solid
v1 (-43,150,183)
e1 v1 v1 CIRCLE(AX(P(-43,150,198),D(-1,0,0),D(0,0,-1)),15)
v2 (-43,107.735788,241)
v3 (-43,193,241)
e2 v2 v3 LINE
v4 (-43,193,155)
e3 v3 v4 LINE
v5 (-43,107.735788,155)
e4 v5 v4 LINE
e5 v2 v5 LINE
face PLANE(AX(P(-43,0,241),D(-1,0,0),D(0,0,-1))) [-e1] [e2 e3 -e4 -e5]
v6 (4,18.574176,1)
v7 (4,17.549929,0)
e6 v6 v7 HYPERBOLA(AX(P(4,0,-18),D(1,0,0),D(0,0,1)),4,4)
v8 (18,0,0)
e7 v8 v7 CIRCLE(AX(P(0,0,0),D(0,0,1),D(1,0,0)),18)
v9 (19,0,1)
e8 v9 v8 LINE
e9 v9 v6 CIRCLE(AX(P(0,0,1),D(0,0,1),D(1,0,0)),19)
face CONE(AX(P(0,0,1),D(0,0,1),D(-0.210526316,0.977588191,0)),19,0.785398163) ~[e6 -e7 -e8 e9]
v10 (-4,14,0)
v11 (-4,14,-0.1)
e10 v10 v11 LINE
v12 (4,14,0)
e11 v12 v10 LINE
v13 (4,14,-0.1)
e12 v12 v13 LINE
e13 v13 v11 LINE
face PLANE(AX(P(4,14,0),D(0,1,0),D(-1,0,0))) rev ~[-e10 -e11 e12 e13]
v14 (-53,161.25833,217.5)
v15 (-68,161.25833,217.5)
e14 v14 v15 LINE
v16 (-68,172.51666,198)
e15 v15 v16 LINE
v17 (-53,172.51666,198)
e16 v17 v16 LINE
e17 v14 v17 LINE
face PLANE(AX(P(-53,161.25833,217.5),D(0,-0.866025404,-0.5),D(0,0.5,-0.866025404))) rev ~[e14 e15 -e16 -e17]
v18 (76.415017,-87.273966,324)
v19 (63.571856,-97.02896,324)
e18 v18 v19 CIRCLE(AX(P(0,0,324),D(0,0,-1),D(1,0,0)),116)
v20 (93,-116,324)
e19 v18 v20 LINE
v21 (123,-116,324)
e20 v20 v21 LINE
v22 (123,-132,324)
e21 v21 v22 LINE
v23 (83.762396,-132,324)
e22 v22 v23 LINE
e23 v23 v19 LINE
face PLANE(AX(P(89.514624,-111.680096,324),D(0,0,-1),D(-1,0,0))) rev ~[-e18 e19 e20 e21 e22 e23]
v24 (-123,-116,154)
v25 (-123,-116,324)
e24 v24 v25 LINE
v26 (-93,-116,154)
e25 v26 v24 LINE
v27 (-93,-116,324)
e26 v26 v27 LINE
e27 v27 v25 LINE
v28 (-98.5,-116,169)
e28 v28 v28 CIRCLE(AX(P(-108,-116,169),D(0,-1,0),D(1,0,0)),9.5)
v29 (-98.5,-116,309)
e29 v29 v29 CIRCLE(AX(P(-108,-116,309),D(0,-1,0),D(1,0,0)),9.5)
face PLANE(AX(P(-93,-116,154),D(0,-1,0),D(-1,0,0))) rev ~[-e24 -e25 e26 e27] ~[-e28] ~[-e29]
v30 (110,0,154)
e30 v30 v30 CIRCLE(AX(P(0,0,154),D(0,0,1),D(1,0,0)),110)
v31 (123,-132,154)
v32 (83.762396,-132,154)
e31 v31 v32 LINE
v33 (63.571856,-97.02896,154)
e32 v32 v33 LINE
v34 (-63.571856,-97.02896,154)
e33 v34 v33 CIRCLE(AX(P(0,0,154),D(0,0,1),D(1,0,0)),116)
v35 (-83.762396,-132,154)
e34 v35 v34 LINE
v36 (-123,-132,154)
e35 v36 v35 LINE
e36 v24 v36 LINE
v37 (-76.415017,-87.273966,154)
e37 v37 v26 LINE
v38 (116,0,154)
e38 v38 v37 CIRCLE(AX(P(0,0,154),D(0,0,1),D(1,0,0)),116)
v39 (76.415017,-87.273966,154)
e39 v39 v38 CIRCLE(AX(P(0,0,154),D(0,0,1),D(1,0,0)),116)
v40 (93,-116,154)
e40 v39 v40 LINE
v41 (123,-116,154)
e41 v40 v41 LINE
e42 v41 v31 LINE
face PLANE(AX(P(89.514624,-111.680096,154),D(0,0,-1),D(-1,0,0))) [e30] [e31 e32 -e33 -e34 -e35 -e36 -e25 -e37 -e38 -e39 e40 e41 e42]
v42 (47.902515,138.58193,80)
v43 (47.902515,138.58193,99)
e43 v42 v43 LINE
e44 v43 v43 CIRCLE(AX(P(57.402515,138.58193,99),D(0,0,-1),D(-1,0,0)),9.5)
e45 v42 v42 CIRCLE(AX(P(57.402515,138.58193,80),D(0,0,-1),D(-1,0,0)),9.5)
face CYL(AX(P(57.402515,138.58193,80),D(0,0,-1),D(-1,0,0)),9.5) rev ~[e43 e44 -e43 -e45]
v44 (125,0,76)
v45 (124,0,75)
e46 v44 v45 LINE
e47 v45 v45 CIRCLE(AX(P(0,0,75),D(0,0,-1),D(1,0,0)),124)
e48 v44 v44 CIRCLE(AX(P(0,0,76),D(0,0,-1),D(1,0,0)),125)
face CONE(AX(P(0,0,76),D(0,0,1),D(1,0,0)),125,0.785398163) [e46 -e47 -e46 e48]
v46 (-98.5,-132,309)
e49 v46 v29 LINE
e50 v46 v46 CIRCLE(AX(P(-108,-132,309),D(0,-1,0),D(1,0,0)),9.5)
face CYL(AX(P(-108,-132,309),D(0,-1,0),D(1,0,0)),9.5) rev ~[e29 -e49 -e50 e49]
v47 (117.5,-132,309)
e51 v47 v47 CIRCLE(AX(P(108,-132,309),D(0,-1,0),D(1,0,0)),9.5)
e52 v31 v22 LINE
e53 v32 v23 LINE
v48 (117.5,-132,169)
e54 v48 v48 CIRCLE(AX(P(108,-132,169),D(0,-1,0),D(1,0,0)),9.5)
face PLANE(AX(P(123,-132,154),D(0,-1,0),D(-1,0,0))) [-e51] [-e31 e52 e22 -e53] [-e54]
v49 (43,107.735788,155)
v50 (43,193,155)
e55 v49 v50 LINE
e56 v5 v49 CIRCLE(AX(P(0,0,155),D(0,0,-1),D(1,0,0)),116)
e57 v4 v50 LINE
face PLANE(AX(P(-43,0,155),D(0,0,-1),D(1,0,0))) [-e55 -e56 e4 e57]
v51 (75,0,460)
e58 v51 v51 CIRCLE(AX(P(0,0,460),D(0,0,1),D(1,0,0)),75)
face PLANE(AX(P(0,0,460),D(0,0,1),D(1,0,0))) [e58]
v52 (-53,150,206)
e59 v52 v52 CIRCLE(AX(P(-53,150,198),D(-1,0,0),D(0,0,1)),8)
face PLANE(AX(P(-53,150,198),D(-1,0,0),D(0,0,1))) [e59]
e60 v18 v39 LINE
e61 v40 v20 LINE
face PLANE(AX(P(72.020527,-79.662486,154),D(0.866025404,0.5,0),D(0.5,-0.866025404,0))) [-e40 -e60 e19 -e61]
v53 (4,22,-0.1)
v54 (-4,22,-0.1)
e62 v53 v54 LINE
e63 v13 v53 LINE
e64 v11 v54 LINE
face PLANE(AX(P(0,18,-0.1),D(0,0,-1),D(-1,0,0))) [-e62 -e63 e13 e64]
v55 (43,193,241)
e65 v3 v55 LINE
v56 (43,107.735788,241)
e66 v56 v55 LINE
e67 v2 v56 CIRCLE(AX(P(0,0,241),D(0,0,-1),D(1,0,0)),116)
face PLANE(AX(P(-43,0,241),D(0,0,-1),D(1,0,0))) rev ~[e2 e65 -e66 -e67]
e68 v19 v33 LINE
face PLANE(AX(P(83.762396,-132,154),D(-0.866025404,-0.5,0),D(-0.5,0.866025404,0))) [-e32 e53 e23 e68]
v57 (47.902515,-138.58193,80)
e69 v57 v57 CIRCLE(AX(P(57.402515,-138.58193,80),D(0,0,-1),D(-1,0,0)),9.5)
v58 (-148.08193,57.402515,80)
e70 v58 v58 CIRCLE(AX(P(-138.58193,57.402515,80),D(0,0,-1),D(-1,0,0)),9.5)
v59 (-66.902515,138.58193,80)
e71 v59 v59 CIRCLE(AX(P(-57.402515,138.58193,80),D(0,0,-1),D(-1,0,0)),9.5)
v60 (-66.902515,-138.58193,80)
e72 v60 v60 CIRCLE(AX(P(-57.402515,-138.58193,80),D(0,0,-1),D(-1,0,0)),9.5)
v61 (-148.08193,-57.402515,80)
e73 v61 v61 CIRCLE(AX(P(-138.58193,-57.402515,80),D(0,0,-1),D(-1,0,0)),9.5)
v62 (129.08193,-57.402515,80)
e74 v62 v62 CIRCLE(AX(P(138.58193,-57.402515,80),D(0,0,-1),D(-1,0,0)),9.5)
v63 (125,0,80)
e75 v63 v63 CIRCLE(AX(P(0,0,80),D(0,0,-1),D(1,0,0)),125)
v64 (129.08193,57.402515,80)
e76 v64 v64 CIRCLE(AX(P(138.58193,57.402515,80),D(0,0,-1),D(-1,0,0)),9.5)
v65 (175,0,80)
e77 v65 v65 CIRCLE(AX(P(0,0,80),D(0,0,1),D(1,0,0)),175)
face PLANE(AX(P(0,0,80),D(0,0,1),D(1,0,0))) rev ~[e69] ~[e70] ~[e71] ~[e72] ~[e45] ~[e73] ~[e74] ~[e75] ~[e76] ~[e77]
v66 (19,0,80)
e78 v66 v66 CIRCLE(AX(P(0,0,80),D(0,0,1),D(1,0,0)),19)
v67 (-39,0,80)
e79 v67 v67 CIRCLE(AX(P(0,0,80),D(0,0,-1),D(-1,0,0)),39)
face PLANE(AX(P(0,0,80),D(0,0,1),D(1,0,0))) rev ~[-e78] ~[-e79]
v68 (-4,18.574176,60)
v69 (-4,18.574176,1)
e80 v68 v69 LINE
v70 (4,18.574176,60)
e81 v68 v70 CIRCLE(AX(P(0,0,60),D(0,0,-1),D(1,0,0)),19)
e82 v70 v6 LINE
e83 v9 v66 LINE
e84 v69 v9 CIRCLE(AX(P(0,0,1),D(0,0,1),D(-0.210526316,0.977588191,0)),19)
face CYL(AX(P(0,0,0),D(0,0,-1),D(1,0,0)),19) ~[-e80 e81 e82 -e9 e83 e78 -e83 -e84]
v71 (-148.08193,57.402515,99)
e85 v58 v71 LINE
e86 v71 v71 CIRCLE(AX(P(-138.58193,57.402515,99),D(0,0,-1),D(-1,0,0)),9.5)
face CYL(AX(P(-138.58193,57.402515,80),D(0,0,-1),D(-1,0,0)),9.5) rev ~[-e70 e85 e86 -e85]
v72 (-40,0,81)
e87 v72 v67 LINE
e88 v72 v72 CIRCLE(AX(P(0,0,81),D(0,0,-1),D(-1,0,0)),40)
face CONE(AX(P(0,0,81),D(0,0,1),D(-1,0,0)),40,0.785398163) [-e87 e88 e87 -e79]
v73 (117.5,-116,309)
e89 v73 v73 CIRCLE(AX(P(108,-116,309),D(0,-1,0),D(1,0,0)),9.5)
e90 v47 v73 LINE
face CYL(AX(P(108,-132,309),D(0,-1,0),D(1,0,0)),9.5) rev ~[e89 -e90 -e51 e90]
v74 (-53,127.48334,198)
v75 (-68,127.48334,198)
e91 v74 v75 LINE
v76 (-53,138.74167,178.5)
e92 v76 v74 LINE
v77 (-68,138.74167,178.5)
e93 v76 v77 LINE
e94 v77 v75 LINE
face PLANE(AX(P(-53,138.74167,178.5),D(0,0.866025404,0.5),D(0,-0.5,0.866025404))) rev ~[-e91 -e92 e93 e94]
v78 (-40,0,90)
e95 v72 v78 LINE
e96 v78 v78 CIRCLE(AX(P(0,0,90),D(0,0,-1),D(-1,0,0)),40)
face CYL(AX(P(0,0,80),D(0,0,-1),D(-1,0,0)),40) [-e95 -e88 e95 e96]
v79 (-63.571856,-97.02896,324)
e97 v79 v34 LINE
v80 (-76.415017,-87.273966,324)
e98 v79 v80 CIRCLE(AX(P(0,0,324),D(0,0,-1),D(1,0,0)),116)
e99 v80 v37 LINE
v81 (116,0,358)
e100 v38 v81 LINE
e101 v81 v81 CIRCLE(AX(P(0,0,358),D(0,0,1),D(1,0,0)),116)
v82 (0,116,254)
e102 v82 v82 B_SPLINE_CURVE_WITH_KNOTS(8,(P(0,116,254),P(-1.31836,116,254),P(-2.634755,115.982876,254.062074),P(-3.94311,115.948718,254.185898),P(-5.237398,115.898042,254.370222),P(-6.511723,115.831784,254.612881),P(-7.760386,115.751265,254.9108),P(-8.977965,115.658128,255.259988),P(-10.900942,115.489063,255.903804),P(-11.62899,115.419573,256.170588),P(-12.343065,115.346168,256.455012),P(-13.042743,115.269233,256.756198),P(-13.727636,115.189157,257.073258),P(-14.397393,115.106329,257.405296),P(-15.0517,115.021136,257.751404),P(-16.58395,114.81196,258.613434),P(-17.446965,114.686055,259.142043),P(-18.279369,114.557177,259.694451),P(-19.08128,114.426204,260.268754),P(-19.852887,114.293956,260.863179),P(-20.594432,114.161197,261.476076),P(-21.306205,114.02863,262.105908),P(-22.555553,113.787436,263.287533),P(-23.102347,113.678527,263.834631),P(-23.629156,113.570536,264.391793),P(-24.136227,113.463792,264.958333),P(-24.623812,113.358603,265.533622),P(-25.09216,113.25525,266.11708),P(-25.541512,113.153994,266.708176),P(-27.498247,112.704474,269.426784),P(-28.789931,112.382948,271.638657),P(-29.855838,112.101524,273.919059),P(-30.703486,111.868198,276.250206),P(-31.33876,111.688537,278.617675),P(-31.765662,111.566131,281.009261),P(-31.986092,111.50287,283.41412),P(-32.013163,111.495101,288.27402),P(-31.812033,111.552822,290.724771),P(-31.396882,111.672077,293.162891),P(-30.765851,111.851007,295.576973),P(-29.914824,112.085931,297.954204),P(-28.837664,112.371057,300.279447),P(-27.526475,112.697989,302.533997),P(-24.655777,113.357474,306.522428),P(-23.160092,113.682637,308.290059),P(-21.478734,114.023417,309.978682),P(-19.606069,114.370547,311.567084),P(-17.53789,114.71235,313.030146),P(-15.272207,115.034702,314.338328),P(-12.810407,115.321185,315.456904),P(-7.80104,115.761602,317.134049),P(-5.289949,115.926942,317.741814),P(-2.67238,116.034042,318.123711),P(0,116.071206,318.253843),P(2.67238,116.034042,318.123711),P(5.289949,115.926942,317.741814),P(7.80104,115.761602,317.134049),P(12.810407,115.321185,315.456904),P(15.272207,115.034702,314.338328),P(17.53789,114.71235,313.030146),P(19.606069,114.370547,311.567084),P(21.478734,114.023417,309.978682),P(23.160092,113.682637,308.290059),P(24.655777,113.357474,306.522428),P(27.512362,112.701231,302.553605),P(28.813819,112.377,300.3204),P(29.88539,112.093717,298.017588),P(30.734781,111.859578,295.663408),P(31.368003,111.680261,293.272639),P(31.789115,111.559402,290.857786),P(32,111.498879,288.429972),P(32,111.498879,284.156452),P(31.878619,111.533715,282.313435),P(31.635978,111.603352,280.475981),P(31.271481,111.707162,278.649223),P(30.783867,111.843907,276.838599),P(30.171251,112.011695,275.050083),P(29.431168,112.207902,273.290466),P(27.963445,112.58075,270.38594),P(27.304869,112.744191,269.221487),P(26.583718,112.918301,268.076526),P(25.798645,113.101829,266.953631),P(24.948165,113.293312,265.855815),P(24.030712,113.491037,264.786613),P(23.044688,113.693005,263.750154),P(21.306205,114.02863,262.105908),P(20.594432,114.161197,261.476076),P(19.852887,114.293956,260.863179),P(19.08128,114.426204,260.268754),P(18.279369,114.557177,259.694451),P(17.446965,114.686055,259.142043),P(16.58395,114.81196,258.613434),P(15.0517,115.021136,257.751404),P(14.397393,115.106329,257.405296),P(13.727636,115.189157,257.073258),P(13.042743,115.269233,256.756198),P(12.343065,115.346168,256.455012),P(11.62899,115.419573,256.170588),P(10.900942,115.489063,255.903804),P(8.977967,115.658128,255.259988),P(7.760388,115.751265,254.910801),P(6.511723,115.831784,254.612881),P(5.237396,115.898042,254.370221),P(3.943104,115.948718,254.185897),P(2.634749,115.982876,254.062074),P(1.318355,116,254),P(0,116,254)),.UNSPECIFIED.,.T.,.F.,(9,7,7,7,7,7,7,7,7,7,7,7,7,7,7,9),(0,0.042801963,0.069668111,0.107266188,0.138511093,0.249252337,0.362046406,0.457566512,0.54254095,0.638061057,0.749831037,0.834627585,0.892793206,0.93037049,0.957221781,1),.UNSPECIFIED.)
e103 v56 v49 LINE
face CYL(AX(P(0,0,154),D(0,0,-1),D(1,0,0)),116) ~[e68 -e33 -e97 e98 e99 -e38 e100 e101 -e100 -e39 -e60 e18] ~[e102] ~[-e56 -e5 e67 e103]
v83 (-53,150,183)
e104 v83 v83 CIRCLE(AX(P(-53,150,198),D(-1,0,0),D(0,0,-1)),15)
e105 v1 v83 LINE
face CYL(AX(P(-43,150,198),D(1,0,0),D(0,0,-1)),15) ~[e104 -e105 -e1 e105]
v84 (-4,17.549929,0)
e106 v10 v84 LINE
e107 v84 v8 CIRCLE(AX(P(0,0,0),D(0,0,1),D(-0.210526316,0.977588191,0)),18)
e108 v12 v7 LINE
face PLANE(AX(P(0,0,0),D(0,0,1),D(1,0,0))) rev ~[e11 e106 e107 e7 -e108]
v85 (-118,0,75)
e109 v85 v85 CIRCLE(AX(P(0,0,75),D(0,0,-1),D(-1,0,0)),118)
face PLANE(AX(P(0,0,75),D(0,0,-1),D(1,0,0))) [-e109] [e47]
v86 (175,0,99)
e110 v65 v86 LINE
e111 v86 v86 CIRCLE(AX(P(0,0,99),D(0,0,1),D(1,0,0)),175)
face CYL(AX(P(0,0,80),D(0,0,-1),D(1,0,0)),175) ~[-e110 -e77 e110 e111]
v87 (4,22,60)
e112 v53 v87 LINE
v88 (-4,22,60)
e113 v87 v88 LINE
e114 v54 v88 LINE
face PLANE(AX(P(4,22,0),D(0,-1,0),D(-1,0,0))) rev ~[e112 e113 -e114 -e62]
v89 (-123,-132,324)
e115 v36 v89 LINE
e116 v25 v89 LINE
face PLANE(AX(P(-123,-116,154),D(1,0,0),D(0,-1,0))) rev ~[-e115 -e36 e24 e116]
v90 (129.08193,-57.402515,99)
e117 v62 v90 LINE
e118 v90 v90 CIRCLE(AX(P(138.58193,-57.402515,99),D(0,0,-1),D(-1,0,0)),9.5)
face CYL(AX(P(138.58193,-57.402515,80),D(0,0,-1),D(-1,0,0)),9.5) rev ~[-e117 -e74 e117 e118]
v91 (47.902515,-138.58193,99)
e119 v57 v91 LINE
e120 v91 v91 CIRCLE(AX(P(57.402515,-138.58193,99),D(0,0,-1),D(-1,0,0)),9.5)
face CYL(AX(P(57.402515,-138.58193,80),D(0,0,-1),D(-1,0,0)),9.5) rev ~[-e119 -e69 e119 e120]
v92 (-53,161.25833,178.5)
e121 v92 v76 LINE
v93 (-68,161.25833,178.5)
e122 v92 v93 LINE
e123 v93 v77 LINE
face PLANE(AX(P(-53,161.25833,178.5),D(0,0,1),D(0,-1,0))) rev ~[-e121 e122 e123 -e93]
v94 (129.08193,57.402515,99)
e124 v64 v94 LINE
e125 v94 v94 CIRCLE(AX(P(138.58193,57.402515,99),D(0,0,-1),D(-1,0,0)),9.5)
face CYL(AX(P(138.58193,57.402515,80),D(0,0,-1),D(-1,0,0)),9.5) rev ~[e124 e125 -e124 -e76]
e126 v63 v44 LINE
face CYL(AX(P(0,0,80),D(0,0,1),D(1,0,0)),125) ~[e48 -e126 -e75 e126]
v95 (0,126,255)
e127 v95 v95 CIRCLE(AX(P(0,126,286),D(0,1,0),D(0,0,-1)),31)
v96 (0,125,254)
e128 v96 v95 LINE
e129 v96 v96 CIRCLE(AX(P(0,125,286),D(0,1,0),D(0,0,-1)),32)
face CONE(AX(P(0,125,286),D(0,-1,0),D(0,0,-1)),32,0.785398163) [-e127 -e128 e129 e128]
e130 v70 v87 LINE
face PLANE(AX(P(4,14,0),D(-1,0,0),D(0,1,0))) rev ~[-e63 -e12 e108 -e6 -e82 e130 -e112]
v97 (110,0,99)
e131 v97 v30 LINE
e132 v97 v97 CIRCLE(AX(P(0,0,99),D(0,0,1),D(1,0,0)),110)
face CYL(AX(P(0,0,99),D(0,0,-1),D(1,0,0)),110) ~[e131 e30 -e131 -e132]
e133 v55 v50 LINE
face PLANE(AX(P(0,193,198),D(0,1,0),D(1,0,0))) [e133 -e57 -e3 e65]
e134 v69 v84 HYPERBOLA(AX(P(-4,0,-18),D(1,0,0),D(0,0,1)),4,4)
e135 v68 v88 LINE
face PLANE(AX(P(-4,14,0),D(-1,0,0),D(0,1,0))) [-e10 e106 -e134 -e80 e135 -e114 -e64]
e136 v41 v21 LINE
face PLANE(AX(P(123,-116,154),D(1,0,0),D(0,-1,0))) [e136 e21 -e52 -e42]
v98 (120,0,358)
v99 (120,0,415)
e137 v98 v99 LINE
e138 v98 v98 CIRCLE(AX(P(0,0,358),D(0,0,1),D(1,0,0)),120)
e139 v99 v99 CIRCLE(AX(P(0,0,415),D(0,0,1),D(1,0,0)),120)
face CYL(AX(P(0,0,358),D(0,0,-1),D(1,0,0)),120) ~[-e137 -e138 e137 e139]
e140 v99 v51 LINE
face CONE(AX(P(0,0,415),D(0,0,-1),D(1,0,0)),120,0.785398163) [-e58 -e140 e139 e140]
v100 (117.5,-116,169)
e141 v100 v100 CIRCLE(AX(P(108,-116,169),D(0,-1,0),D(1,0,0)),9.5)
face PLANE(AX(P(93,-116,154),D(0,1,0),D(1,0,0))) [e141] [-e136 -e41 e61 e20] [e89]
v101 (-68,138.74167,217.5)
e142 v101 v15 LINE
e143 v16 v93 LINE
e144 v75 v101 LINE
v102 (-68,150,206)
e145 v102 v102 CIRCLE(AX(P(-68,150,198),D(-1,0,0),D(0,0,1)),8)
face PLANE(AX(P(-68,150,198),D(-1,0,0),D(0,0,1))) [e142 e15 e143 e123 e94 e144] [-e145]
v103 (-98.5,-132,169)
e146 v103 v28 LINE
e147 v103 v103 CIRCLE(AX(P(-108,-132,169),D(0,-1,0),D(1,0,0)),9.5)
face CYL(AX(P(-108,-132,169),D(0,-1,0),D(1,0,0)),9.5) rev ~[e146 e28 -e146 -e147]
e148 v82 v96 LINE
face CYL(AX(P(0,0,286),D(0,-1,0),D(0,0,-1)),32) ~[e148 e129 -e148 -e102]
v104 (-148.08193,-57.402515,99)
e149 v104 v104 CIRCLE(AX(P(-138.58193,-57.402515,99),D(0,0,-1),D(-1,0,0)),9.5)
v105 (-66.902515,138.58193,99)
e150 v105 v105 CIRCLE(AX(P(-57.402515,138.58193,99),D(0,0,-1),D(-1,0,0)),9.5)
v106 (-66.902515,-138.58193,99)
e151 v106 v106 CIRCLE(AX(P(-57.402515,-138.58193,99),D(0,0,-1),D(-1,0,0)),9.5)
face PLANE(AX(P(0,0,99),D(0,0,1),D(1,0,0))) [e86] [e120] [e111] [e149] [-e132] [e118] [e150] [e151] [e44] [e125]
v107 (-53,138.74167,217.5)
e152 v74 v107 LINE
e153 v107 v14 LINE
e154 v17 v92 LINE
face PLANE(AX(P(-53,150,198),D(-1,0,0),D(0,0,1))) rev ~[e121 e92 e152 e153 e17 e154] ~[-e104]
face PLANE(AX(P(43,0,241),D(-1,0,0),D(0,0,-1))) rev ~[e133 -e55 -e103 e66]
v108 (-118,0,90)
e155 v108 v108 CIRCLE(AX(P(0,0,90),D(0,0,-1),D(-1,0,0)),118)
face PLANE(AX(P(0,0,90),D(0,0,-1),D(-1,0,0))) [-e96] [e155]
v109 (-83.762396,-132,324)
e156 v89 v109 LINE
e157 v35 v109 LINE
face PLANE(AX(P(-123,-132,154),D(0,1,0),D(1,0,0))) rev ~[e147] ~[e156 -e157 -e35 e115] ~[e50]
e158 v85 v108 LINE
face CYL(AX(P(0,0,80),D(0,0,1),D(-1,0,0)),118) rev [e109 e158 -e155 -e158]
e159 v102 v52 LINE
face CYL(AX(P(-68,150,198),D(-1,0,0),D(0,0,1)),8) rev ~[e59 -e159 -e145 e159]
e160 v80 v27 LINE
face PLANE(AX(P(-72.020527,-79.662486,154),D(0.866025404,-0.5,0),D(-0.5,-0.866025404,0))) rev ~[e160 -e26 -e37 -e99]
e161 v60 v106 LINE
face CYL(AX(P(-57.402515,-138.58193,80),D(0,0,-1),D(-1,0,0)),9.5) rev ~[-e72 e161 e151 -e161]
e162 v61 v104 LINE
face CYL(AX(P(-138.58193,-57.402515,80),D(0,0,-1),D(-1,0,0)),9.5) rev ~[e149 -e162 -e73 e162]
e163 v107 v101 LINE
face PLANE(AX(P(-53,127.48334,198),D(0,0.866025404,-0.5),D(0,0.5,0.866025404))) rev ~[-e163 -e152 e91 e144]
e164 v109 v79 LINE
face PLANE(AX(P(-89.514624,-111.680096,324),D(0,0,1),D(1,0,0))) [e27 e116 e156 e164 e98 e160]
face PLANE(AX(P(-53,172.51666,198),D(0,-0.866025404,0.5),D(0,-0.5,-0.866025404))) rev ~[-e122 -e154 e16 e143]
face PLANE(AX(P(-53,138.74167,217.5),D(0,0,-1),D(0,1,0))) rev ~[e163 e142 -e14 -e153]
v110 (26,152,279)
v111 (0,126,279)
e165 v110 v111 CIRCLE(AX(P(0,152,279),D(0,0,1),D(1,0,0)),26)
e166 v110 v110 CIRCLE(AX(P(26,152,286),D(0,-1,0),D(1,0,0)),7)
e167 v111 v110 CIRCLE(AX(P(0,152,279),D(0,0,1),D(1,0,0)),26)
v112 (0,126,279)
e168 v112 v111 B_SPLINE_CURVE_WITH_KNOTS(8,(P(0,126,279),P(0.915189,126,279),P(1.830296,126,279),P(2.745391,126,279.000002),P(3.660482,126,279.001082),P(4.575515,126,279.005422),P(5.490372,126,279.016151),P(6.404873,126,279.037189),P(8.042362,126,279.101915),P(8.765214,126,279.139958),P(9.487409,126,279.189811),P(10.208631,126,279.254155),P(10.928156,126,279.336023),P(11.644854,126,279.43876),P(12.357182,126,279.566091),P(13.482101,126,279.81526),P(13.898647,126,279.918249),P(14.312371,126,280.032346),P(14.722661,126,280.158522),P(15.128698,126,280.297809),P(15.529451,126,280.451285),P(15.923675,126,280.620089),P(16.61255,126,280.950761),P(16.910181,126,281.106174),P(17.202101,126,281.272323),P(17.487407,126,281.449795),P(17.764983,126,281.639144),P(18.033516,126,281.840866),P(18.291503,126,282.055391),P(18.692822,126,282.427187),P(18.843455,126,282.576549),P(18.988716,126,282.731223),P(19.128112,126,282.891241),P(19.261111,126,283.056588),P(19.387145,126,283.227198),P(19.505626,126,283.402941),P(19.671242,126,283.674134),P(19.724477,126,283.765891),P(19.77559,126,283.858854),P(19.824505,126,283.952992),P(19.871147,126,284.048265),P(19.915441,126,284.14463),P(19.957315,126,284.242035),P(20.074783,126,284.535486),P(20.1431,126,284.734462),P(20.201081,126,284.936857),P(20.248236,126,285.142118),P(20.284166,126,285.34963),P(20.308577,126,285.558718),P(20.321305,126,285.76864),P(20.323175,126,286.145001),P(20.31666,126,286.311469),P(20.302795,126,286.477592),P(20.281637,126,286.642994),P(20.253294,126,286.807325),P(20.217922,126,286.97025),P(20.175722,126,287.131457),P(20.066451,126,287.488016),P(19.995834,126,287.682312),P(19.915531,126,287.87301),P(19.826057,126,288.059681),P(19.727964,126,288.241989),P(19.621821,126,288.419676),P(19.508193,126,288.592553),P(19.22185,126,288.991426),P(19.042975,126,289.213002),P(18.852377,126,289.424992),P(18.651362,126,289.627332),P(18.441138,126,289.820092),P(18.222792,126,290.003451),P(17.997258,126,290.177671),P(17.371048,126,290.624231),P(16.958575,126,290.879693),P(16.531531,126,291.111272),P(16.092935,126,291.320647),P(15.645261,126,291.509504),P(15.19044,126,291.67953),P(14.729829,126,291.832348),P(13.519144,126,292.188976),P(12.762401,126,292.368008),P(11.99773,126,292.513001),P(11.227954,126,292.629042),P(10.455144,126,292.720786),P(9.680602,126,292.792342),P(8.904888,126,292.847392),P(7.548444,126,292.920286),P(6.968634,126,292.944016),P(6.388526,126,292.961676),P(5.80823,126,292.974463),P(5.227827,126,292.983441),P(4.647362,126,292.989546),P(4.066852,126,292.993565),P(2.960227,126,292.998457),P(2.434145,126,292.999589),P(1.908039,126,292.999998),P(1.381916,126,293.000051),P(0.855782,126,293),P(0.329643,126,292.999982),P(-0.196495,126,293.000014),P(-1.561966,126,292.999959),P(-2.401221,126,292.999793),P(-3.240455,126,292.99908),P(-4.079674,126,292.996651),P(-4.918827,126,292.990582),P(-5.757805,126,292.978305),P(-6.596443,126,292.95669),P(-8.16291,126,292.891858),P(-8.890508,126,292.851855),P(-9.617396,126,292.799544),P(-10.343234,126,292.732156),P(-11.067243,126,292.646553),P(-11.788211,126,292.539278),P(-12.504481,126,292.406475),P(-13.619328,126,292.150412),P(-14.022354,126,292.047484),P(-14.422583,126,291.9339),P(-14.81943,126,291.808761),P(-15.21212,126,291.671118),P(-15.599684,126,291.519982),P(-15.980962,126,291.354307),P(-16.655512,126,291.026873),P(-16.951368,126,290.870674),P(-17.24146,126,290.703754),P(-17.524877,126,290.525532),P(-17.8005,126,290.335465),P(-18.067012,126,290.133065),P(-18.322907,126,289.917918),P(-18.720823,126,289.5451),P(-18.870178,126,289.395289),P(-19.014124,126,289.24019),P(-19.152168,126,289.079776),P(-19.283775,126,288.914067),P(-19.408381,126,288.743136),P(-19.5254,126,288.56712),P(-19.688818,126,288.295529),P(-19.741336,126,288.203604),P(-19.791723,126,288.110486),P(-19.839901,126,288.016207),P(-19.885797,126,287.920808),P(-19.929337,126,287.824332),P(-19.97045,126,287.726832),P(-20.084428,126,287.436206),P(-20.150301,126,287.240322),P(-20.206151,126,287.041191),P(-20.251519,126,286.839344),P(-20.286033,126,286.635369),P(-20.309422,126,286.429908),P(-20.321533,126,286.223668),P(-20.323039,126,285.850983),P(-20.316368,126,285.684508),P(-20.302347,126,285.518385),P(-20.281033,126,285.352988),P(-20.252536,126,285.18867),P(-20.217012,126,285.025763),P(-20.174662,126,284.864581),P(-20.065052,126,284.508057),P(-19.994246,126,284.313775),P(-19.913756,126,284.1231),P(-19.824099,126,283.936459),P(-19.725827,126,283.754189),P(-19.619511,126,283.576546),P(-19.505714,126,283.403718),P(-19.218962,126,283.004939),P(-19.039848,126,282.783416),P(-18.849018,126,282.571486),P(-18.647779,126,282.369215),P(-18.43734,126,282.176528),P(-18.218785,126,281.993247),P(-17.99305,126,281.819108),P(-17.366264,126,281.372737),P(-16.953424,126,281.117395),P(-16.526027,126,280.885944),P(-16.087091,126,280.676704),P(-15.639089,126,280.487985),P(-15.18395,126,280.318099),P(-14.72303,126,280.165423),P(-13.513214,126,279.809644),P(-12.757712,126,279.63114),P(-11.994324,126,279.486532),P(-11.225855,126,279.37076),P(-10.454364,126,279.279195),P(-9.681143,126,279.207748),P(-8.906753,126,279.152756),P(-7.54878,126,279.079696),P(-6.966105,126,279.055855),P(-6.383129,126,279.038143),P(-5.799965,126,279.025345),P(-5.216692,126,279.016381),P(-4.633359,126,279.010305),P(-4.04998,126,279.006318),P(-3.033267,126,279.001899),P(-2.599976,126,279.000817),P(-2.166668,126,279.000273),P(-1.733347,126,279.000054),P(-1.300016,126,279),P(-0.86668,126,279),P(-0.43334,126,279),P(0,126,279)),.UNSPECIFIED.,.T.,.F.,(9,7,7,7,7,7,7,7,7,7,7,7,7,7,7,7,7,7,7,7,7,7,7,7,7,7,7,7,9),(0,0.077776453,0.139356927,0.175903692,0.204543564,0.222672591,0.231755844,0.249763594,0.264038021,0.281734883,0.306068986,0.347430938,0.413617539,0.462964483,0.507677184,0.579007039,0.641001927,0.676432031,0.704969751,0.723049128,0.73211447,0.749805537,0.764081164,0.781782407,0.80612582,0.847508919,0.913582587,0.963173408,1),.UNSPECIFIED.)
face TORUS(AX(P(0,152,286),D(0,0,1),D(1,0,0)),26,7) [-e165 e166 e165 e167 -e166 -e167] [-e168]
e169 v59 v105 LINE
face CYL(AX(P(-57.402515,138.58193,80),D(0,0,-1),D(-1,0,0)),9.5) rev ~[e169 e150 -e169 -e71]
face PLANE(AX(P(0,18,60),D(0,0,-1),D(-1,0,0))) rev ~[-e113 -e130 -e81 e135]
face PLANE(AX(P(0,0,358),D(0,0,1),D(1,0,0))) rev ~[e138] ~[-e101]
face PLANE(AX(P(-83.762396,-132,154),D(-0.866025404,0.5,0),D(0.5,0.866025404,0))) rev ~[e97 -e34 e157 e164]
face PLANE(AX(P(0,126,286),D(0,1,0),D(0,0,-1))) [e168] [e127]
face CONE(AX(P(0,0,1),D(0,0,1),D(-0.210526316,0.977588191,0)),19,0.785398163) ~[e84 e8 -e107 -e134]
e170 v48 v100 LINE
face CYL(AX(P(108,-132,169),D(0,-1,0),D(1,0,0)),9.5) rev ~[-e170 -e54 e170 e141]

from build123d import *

# Parameters (mm, degrees)
SKETCH_1_R           = 19
EXTRUDE_1_DEPTH      = 80
SKETCH_2_W           = 8
SKETCH_2_H           = 8
EXTRUDE_2_DEPTH      = 0.1
EXTRUDE_2_DEPTH_BACK = 60
SKETCH_3_R           = 175
EXTRUDE_3_DEPTH      = 19
SKETCH_4_R           = 125
SKETCH_4_R_2         = 118
EXTRUDE_4_DEPTH      = 5
SKETCH_5_R           = 118
SKETCH_5_R_2         = 40
CUT_EXTRUDE_1_DEPTH  = 10
CHAMFER_1_SIZE       = 1
SKETCH_6_R           = 9.5
CUT_EXTRUDE_2_DEPTH  = 20
SKETCH_7_R           = 110
EXTRUDE_5_DEPTH      = 55
SKETCH_8_R           = 116
EXTRUDE_6_DEPTH      = 204
SKETCH_9_R           = 120
EXTRUDE_7_DEPTH      = 102
CHAMFER_2_SIZE       = 45
EXTRUDE_8_DEPTH      = 170
CUT_EXTRUDE_3_REACH  = 309
SKETCH_11_R          = 9.5
SKETCH_12_W          = 86
SKETCH_12_H          = 86
EXTRUDE_9_DEPTH      = 193
SKETCH_13_R          = 32
EXTRUDE_10_DEPTH     = 126
CHAMFER_3_SIZE       = 1
SKETCH_15_R          = 7
SKETCH_16_R          = 15
EXTRUDE_11_DEPTH     = 10
EXTRUDE_12_DEPTH     = 15
SKETCH_18_R          = 8
CUT_EXTRUDE_4_DEPTH  = 15


with BuildPart() as part:
    # Эскиз1 → Вытянуть1 (new body)
    with BuildSketch(Plane.XY):
        Circle(SKETCH_1_R)
    extrude(amount=EXTRUDE_1_DEPTH)

    # Эскиз2 → Вытянуть2 (add, two sides)
    with BuildSketch(Plane(origin=(0, 0, 0), x_dir=(-1, 0, 0), z_dir=(0, 0, -1))) as extrude_2_sk:
        with Locations((0, 18)):
            Rectangle(SKETCH_2_W, SKETCH_2_H)
    extrude(amount=EXTRUDE_2_DEPTH)
    extrude(extrude_2_sk.sketch, amount=-EXTRUDE_2_DEPTH_BACK)

    # Эскиз3 → Вытянуть3 (add)
    with BuildSketch(Plane.XY.offset(80)):
        Circle(SKETCH_3_R)
    extrude(amount=EXTRUDE_3_DEPTH)

    # Эскиз4 → Вытянуть4 (add)
    with BuildSketch(Plane(origin=(0, 0, 80), x_dir=(-1, 0, 0), z_dir=(0, 0, -1))):
        with Locations(Location((0, 0, 0), (0, 0, 180))):  # turned: the seam where the file's is
            Circle(SKETCH_4_R)
        Circle(SKETCH_4_R_2, mode=Mode.SUBTRACT)
    extrude(amount=EXTRUDE_4_DEPTH)

    # Эскиз5 → Вырез-Вытянуть1 (cut)
    with BuildSketch(Plane(origin=(0, 0, 80), x_dir=(-1, 0, 0), z_dir=(0, 0, -1))):
        Circle(SKETCH_5_R)
        Circle(SKETCH_5_R_2, mode=Mode.SUBTRACT)
    extrude(amount=-CUT_EXTRUDE_1_DEPTH, mode=Mode.SUBTRACT)

    # Фаска1
    chamfer_1_edges = [part.edges().sort_by_distance(p)[0] for p in [
        (-125, 0, 75),
        (40, 0, 80),
        (-11.937336386, -14.781745499, 0),
    ]]
    chamfer(chamfer_1_edges, length=CHAMFER_1_SIZE)

    # Эскиз6 → Вырез-Вытянуть2 (cut, through all)
    with BuildSketch(Plane(origin=(0, 0, 80), x_dir=(-1, 0, 0), z_dir=(0, 0, -1))):
        with Locations((-57.402514855, 138.581929877)):
            Circle(SKETCH_6_R)
        with Locations((57.402514855, 138.581929877)):
            Circle(SKETCH_6_R)
        with Locations((138.581929877, 57.402514855)):
            Circle(SKETCH_6_R)
        with Locations((138.581929877, -57.402514855)):
            Circle(SKETCH_6_R)
        with Locations((57.402514855, -138.581929877)):
            Circle(SKETCH_6_R)
        with Locations((-57.402514855, -138.581929877)):
            Circle(SKETCH_6_R)
        with Locations((-138.581929877, -57.402514855)):
            Circle(SKETCH_6_R)
        with Locations((-138.581929877, 57.402514855)):
            Circle(SKETCH_6_R)
    extrude(amount=-CUT_EXTRUDE_2_DEPTH, mode=Mode.SUBTRACT)

    # Эскиз7 → Вытянуть5 (add)
    with BuildSketch(Plane.XY.offset(99)):
        Circle(SKETCH_7_R)
    extrude(amount=EXTRUDE_5_DEPTH)

    # Эскиз8 → Вытянуть6 (add)
    with BuildSketch(Plane.XY.offset(154)):
        Circle(SKETCH_8_R)
    extrude(amount=EXTRUDE_6_DEPTH)

    # Эскиз9 → Вытянуть7 (add)
    with BuildSketch(Plane.XY.offset(358)):
        Circle(SKETCH_9_R)
    extrude(amount=EXTRUDE_7_DEPTH)

    # Фаска2
    chamfer_2_edges = [part.edges().sort_by_distance(p)[0] for p in [
        (-120, 0, 460),
    ]]
    chamfer(chamfer_2_edges, length=CHAMFER_2_SIZE)

    # Эскиз10 → Вытянуть8 (add)
    with BuildSketch(Plane(origin=(0, 0, 154), x_dir=(-1, 0, 0), z_dir=(0, 0, -1))):
        Polygon((-123, -132), (-83.762395693, -132), (-58.16412012, -87.662486121), (-72.020526581, -79.662486121), (-93, -116), (-123, -116), align=None)
        Polygon((123, -132), (83.762395693, -132), (58.16412012, -87.662486121), (72.020526581, -79.662486121), (93, -116), (123, -116), align=None)
    extrude(amount=-EXTRUDE_8_DEPTH)

    # Эскиз11 → Вырез-Вытянуть3 (cut, up to next)
    with BuildSketch(Plane.XZ.offset(132), mode=Mode.PRIVATE) as cut_extrude_3_sk1:
        with Locations((-108, 169)):
            Circle(SKETCH_11_R)
    cut_extrude_3_tool1 = extrude(cut_extrude_3_sk1.sketch, amount=-CUT_EXTRUDE_3_REACH, mode=Mode.PRIVATE) & part.part
    add(cut_extrude_3_tool1.solids().sort_by_distance((-108, -132, 169))[0], mode=Mode.SUBTRACT)
    # Эскиз11 → Вырез-Вытянуть3 (cut, up to next)
    with BuildSketch(Plane.XZ.offset(132), mode=Mode.PRIVATE) as cut_extrude_3_sk2:
        with Locations((108, 169)):
            Circle(SKETCH_11_R)
    cut_extrude_3_tool2 = extrude(cut_extrude_3_sk2.sketch, amount=-CUT_EXTRUDE_3_REACH, mode=Mode.PRIVATE) & part.part
    add(cut_extrude_3_tool2.solids().sort_by_distance((108, -132, 169))[0], mode=Mode.SUBTRACT)
    # Эскиз11 → Вырез-Вытянуть3 (cut, up to next)
    with BuildSketch(Plane.XZ.offset(132), mode=Mode.PRIVATE) as cut_extrude_3_sk3:
        with Locations((-108, 309)):
            Circle(SKETCH_11_R)
    cut_extrude_3_tool3 = extrude(cut_extrude_3_sk3.sketch, amount=-CUT_EXTRUDE_3_REACH, mode=Mode.PRIVATE) & part.part
    add(cut_extrude_3_tool3.solids().sort_by_distance((-108, -132, 309))[0], mode=Mode.SUBTRACT)
    # Эскиз11 → Вырез-Вытянуть3 (cut, up to next)
    with BuildSketch(Plane.XZ.offset(132), mode=Mode.PRIVATE) as cut_extrude_3_sk4:
        with Locations((108, 309)):
            Circle(SKETCH_11_R)
    cut_extrude_3_tool4 = extrude(cut_extrude_3_sk4.sketch, amount=-CUT_EXTRUDE_3_REACH, mode=Mode.PRIVATE) & part.part
    add(cut_extrude_3_tool4.solids().sort_by_distance((108, -132, 309))[0], mode=Mode.SUBTRACT)

    # Эскиз12 → Вытянуть9 (add)
    with BuildSketch(Plane(origin=(0, 0, 0), x_dir=(1, 0, 0), z_dir=(0, 1, 0))):
        with Locations((0, -198)):
            Rectangle(SKETCH_12_W, SKETCH_12_H)
    extrude(amount=EXTRUDE_9_DEPTH)

    # Эскиз13 → Вытянуть10 (add)
    with BuildSketch(Plane(origin=(0, 0, 0), x_dir=(1, 0, 0), z_dir=(0, 1, 0))):
        with Locations(Location((0, -286, 0), (0, 0, 90))):  # turned: the seam where the file's is
            Circle(SKETCH_13_R)
    extrude(amount=EXTRUDE_10_DEPTH)

    # Фаска3
    chamfer_3_edges = [part.edges().sort_by_distance(p)[0] for p in [
        (0, 126, 318),
    ]]
    chamfer(chamfer_3_edges, length=CHAMFER_3_SIZE)

    # По траектории1: sweep along a path in Эскиз14
    with BuildLine(Plane.XY.offset(286)) as sweep_1_path:
        CenterArc((0, 152), 26, 0, 360)
    # Эскиз15 → По траектории1 (sweep)
    with BuildSketch(Plane(origin=(0, 0, 0), x_dir=(0, 0, -1), z_dir=(1, 0, 0))):
        with Locations((-286, 178)):
            Circle(SKETCH_15_R)
    sweep(path=sweep_1_path.line)

    # Эскиз16 → Вытянуть11 (add)
    with BuildSketch(Plane.ZY.offset(43)):
        with Locations(Location((198, 150, 0), (0, 0, 180))):  # turned: the seam where the file's is
            Circle(SKETCH_16_R)
    extrude(amount=EXTRUDE_11_DEPTH)

    # Эскиз17 → Вытянуть12 (add)
    with BuildSketch(Plane.ZY.offset(53)):
        Polygon((198, 172.516660498), (178.5, 161.258330249), (178.5, 138.741669751), (198, 127.483339502), (217.5, 138.741669751), (217.5, 161.258330249), align=None)
    extrude(amount=EXTRUDE_12_DEPTH)

    # Эскиз18 → Вырез-Вытянуть4 (cut)
    with BuildSketch(Plane.ZY.offset(68)):
        with Locations((198, 150)):
            Circle(SKETCH_18_R)
    extrude(amount=-CUT_EXTRUDE_4_DEPTH, mode=Mode.SUBTRACT)


solid = part.part
